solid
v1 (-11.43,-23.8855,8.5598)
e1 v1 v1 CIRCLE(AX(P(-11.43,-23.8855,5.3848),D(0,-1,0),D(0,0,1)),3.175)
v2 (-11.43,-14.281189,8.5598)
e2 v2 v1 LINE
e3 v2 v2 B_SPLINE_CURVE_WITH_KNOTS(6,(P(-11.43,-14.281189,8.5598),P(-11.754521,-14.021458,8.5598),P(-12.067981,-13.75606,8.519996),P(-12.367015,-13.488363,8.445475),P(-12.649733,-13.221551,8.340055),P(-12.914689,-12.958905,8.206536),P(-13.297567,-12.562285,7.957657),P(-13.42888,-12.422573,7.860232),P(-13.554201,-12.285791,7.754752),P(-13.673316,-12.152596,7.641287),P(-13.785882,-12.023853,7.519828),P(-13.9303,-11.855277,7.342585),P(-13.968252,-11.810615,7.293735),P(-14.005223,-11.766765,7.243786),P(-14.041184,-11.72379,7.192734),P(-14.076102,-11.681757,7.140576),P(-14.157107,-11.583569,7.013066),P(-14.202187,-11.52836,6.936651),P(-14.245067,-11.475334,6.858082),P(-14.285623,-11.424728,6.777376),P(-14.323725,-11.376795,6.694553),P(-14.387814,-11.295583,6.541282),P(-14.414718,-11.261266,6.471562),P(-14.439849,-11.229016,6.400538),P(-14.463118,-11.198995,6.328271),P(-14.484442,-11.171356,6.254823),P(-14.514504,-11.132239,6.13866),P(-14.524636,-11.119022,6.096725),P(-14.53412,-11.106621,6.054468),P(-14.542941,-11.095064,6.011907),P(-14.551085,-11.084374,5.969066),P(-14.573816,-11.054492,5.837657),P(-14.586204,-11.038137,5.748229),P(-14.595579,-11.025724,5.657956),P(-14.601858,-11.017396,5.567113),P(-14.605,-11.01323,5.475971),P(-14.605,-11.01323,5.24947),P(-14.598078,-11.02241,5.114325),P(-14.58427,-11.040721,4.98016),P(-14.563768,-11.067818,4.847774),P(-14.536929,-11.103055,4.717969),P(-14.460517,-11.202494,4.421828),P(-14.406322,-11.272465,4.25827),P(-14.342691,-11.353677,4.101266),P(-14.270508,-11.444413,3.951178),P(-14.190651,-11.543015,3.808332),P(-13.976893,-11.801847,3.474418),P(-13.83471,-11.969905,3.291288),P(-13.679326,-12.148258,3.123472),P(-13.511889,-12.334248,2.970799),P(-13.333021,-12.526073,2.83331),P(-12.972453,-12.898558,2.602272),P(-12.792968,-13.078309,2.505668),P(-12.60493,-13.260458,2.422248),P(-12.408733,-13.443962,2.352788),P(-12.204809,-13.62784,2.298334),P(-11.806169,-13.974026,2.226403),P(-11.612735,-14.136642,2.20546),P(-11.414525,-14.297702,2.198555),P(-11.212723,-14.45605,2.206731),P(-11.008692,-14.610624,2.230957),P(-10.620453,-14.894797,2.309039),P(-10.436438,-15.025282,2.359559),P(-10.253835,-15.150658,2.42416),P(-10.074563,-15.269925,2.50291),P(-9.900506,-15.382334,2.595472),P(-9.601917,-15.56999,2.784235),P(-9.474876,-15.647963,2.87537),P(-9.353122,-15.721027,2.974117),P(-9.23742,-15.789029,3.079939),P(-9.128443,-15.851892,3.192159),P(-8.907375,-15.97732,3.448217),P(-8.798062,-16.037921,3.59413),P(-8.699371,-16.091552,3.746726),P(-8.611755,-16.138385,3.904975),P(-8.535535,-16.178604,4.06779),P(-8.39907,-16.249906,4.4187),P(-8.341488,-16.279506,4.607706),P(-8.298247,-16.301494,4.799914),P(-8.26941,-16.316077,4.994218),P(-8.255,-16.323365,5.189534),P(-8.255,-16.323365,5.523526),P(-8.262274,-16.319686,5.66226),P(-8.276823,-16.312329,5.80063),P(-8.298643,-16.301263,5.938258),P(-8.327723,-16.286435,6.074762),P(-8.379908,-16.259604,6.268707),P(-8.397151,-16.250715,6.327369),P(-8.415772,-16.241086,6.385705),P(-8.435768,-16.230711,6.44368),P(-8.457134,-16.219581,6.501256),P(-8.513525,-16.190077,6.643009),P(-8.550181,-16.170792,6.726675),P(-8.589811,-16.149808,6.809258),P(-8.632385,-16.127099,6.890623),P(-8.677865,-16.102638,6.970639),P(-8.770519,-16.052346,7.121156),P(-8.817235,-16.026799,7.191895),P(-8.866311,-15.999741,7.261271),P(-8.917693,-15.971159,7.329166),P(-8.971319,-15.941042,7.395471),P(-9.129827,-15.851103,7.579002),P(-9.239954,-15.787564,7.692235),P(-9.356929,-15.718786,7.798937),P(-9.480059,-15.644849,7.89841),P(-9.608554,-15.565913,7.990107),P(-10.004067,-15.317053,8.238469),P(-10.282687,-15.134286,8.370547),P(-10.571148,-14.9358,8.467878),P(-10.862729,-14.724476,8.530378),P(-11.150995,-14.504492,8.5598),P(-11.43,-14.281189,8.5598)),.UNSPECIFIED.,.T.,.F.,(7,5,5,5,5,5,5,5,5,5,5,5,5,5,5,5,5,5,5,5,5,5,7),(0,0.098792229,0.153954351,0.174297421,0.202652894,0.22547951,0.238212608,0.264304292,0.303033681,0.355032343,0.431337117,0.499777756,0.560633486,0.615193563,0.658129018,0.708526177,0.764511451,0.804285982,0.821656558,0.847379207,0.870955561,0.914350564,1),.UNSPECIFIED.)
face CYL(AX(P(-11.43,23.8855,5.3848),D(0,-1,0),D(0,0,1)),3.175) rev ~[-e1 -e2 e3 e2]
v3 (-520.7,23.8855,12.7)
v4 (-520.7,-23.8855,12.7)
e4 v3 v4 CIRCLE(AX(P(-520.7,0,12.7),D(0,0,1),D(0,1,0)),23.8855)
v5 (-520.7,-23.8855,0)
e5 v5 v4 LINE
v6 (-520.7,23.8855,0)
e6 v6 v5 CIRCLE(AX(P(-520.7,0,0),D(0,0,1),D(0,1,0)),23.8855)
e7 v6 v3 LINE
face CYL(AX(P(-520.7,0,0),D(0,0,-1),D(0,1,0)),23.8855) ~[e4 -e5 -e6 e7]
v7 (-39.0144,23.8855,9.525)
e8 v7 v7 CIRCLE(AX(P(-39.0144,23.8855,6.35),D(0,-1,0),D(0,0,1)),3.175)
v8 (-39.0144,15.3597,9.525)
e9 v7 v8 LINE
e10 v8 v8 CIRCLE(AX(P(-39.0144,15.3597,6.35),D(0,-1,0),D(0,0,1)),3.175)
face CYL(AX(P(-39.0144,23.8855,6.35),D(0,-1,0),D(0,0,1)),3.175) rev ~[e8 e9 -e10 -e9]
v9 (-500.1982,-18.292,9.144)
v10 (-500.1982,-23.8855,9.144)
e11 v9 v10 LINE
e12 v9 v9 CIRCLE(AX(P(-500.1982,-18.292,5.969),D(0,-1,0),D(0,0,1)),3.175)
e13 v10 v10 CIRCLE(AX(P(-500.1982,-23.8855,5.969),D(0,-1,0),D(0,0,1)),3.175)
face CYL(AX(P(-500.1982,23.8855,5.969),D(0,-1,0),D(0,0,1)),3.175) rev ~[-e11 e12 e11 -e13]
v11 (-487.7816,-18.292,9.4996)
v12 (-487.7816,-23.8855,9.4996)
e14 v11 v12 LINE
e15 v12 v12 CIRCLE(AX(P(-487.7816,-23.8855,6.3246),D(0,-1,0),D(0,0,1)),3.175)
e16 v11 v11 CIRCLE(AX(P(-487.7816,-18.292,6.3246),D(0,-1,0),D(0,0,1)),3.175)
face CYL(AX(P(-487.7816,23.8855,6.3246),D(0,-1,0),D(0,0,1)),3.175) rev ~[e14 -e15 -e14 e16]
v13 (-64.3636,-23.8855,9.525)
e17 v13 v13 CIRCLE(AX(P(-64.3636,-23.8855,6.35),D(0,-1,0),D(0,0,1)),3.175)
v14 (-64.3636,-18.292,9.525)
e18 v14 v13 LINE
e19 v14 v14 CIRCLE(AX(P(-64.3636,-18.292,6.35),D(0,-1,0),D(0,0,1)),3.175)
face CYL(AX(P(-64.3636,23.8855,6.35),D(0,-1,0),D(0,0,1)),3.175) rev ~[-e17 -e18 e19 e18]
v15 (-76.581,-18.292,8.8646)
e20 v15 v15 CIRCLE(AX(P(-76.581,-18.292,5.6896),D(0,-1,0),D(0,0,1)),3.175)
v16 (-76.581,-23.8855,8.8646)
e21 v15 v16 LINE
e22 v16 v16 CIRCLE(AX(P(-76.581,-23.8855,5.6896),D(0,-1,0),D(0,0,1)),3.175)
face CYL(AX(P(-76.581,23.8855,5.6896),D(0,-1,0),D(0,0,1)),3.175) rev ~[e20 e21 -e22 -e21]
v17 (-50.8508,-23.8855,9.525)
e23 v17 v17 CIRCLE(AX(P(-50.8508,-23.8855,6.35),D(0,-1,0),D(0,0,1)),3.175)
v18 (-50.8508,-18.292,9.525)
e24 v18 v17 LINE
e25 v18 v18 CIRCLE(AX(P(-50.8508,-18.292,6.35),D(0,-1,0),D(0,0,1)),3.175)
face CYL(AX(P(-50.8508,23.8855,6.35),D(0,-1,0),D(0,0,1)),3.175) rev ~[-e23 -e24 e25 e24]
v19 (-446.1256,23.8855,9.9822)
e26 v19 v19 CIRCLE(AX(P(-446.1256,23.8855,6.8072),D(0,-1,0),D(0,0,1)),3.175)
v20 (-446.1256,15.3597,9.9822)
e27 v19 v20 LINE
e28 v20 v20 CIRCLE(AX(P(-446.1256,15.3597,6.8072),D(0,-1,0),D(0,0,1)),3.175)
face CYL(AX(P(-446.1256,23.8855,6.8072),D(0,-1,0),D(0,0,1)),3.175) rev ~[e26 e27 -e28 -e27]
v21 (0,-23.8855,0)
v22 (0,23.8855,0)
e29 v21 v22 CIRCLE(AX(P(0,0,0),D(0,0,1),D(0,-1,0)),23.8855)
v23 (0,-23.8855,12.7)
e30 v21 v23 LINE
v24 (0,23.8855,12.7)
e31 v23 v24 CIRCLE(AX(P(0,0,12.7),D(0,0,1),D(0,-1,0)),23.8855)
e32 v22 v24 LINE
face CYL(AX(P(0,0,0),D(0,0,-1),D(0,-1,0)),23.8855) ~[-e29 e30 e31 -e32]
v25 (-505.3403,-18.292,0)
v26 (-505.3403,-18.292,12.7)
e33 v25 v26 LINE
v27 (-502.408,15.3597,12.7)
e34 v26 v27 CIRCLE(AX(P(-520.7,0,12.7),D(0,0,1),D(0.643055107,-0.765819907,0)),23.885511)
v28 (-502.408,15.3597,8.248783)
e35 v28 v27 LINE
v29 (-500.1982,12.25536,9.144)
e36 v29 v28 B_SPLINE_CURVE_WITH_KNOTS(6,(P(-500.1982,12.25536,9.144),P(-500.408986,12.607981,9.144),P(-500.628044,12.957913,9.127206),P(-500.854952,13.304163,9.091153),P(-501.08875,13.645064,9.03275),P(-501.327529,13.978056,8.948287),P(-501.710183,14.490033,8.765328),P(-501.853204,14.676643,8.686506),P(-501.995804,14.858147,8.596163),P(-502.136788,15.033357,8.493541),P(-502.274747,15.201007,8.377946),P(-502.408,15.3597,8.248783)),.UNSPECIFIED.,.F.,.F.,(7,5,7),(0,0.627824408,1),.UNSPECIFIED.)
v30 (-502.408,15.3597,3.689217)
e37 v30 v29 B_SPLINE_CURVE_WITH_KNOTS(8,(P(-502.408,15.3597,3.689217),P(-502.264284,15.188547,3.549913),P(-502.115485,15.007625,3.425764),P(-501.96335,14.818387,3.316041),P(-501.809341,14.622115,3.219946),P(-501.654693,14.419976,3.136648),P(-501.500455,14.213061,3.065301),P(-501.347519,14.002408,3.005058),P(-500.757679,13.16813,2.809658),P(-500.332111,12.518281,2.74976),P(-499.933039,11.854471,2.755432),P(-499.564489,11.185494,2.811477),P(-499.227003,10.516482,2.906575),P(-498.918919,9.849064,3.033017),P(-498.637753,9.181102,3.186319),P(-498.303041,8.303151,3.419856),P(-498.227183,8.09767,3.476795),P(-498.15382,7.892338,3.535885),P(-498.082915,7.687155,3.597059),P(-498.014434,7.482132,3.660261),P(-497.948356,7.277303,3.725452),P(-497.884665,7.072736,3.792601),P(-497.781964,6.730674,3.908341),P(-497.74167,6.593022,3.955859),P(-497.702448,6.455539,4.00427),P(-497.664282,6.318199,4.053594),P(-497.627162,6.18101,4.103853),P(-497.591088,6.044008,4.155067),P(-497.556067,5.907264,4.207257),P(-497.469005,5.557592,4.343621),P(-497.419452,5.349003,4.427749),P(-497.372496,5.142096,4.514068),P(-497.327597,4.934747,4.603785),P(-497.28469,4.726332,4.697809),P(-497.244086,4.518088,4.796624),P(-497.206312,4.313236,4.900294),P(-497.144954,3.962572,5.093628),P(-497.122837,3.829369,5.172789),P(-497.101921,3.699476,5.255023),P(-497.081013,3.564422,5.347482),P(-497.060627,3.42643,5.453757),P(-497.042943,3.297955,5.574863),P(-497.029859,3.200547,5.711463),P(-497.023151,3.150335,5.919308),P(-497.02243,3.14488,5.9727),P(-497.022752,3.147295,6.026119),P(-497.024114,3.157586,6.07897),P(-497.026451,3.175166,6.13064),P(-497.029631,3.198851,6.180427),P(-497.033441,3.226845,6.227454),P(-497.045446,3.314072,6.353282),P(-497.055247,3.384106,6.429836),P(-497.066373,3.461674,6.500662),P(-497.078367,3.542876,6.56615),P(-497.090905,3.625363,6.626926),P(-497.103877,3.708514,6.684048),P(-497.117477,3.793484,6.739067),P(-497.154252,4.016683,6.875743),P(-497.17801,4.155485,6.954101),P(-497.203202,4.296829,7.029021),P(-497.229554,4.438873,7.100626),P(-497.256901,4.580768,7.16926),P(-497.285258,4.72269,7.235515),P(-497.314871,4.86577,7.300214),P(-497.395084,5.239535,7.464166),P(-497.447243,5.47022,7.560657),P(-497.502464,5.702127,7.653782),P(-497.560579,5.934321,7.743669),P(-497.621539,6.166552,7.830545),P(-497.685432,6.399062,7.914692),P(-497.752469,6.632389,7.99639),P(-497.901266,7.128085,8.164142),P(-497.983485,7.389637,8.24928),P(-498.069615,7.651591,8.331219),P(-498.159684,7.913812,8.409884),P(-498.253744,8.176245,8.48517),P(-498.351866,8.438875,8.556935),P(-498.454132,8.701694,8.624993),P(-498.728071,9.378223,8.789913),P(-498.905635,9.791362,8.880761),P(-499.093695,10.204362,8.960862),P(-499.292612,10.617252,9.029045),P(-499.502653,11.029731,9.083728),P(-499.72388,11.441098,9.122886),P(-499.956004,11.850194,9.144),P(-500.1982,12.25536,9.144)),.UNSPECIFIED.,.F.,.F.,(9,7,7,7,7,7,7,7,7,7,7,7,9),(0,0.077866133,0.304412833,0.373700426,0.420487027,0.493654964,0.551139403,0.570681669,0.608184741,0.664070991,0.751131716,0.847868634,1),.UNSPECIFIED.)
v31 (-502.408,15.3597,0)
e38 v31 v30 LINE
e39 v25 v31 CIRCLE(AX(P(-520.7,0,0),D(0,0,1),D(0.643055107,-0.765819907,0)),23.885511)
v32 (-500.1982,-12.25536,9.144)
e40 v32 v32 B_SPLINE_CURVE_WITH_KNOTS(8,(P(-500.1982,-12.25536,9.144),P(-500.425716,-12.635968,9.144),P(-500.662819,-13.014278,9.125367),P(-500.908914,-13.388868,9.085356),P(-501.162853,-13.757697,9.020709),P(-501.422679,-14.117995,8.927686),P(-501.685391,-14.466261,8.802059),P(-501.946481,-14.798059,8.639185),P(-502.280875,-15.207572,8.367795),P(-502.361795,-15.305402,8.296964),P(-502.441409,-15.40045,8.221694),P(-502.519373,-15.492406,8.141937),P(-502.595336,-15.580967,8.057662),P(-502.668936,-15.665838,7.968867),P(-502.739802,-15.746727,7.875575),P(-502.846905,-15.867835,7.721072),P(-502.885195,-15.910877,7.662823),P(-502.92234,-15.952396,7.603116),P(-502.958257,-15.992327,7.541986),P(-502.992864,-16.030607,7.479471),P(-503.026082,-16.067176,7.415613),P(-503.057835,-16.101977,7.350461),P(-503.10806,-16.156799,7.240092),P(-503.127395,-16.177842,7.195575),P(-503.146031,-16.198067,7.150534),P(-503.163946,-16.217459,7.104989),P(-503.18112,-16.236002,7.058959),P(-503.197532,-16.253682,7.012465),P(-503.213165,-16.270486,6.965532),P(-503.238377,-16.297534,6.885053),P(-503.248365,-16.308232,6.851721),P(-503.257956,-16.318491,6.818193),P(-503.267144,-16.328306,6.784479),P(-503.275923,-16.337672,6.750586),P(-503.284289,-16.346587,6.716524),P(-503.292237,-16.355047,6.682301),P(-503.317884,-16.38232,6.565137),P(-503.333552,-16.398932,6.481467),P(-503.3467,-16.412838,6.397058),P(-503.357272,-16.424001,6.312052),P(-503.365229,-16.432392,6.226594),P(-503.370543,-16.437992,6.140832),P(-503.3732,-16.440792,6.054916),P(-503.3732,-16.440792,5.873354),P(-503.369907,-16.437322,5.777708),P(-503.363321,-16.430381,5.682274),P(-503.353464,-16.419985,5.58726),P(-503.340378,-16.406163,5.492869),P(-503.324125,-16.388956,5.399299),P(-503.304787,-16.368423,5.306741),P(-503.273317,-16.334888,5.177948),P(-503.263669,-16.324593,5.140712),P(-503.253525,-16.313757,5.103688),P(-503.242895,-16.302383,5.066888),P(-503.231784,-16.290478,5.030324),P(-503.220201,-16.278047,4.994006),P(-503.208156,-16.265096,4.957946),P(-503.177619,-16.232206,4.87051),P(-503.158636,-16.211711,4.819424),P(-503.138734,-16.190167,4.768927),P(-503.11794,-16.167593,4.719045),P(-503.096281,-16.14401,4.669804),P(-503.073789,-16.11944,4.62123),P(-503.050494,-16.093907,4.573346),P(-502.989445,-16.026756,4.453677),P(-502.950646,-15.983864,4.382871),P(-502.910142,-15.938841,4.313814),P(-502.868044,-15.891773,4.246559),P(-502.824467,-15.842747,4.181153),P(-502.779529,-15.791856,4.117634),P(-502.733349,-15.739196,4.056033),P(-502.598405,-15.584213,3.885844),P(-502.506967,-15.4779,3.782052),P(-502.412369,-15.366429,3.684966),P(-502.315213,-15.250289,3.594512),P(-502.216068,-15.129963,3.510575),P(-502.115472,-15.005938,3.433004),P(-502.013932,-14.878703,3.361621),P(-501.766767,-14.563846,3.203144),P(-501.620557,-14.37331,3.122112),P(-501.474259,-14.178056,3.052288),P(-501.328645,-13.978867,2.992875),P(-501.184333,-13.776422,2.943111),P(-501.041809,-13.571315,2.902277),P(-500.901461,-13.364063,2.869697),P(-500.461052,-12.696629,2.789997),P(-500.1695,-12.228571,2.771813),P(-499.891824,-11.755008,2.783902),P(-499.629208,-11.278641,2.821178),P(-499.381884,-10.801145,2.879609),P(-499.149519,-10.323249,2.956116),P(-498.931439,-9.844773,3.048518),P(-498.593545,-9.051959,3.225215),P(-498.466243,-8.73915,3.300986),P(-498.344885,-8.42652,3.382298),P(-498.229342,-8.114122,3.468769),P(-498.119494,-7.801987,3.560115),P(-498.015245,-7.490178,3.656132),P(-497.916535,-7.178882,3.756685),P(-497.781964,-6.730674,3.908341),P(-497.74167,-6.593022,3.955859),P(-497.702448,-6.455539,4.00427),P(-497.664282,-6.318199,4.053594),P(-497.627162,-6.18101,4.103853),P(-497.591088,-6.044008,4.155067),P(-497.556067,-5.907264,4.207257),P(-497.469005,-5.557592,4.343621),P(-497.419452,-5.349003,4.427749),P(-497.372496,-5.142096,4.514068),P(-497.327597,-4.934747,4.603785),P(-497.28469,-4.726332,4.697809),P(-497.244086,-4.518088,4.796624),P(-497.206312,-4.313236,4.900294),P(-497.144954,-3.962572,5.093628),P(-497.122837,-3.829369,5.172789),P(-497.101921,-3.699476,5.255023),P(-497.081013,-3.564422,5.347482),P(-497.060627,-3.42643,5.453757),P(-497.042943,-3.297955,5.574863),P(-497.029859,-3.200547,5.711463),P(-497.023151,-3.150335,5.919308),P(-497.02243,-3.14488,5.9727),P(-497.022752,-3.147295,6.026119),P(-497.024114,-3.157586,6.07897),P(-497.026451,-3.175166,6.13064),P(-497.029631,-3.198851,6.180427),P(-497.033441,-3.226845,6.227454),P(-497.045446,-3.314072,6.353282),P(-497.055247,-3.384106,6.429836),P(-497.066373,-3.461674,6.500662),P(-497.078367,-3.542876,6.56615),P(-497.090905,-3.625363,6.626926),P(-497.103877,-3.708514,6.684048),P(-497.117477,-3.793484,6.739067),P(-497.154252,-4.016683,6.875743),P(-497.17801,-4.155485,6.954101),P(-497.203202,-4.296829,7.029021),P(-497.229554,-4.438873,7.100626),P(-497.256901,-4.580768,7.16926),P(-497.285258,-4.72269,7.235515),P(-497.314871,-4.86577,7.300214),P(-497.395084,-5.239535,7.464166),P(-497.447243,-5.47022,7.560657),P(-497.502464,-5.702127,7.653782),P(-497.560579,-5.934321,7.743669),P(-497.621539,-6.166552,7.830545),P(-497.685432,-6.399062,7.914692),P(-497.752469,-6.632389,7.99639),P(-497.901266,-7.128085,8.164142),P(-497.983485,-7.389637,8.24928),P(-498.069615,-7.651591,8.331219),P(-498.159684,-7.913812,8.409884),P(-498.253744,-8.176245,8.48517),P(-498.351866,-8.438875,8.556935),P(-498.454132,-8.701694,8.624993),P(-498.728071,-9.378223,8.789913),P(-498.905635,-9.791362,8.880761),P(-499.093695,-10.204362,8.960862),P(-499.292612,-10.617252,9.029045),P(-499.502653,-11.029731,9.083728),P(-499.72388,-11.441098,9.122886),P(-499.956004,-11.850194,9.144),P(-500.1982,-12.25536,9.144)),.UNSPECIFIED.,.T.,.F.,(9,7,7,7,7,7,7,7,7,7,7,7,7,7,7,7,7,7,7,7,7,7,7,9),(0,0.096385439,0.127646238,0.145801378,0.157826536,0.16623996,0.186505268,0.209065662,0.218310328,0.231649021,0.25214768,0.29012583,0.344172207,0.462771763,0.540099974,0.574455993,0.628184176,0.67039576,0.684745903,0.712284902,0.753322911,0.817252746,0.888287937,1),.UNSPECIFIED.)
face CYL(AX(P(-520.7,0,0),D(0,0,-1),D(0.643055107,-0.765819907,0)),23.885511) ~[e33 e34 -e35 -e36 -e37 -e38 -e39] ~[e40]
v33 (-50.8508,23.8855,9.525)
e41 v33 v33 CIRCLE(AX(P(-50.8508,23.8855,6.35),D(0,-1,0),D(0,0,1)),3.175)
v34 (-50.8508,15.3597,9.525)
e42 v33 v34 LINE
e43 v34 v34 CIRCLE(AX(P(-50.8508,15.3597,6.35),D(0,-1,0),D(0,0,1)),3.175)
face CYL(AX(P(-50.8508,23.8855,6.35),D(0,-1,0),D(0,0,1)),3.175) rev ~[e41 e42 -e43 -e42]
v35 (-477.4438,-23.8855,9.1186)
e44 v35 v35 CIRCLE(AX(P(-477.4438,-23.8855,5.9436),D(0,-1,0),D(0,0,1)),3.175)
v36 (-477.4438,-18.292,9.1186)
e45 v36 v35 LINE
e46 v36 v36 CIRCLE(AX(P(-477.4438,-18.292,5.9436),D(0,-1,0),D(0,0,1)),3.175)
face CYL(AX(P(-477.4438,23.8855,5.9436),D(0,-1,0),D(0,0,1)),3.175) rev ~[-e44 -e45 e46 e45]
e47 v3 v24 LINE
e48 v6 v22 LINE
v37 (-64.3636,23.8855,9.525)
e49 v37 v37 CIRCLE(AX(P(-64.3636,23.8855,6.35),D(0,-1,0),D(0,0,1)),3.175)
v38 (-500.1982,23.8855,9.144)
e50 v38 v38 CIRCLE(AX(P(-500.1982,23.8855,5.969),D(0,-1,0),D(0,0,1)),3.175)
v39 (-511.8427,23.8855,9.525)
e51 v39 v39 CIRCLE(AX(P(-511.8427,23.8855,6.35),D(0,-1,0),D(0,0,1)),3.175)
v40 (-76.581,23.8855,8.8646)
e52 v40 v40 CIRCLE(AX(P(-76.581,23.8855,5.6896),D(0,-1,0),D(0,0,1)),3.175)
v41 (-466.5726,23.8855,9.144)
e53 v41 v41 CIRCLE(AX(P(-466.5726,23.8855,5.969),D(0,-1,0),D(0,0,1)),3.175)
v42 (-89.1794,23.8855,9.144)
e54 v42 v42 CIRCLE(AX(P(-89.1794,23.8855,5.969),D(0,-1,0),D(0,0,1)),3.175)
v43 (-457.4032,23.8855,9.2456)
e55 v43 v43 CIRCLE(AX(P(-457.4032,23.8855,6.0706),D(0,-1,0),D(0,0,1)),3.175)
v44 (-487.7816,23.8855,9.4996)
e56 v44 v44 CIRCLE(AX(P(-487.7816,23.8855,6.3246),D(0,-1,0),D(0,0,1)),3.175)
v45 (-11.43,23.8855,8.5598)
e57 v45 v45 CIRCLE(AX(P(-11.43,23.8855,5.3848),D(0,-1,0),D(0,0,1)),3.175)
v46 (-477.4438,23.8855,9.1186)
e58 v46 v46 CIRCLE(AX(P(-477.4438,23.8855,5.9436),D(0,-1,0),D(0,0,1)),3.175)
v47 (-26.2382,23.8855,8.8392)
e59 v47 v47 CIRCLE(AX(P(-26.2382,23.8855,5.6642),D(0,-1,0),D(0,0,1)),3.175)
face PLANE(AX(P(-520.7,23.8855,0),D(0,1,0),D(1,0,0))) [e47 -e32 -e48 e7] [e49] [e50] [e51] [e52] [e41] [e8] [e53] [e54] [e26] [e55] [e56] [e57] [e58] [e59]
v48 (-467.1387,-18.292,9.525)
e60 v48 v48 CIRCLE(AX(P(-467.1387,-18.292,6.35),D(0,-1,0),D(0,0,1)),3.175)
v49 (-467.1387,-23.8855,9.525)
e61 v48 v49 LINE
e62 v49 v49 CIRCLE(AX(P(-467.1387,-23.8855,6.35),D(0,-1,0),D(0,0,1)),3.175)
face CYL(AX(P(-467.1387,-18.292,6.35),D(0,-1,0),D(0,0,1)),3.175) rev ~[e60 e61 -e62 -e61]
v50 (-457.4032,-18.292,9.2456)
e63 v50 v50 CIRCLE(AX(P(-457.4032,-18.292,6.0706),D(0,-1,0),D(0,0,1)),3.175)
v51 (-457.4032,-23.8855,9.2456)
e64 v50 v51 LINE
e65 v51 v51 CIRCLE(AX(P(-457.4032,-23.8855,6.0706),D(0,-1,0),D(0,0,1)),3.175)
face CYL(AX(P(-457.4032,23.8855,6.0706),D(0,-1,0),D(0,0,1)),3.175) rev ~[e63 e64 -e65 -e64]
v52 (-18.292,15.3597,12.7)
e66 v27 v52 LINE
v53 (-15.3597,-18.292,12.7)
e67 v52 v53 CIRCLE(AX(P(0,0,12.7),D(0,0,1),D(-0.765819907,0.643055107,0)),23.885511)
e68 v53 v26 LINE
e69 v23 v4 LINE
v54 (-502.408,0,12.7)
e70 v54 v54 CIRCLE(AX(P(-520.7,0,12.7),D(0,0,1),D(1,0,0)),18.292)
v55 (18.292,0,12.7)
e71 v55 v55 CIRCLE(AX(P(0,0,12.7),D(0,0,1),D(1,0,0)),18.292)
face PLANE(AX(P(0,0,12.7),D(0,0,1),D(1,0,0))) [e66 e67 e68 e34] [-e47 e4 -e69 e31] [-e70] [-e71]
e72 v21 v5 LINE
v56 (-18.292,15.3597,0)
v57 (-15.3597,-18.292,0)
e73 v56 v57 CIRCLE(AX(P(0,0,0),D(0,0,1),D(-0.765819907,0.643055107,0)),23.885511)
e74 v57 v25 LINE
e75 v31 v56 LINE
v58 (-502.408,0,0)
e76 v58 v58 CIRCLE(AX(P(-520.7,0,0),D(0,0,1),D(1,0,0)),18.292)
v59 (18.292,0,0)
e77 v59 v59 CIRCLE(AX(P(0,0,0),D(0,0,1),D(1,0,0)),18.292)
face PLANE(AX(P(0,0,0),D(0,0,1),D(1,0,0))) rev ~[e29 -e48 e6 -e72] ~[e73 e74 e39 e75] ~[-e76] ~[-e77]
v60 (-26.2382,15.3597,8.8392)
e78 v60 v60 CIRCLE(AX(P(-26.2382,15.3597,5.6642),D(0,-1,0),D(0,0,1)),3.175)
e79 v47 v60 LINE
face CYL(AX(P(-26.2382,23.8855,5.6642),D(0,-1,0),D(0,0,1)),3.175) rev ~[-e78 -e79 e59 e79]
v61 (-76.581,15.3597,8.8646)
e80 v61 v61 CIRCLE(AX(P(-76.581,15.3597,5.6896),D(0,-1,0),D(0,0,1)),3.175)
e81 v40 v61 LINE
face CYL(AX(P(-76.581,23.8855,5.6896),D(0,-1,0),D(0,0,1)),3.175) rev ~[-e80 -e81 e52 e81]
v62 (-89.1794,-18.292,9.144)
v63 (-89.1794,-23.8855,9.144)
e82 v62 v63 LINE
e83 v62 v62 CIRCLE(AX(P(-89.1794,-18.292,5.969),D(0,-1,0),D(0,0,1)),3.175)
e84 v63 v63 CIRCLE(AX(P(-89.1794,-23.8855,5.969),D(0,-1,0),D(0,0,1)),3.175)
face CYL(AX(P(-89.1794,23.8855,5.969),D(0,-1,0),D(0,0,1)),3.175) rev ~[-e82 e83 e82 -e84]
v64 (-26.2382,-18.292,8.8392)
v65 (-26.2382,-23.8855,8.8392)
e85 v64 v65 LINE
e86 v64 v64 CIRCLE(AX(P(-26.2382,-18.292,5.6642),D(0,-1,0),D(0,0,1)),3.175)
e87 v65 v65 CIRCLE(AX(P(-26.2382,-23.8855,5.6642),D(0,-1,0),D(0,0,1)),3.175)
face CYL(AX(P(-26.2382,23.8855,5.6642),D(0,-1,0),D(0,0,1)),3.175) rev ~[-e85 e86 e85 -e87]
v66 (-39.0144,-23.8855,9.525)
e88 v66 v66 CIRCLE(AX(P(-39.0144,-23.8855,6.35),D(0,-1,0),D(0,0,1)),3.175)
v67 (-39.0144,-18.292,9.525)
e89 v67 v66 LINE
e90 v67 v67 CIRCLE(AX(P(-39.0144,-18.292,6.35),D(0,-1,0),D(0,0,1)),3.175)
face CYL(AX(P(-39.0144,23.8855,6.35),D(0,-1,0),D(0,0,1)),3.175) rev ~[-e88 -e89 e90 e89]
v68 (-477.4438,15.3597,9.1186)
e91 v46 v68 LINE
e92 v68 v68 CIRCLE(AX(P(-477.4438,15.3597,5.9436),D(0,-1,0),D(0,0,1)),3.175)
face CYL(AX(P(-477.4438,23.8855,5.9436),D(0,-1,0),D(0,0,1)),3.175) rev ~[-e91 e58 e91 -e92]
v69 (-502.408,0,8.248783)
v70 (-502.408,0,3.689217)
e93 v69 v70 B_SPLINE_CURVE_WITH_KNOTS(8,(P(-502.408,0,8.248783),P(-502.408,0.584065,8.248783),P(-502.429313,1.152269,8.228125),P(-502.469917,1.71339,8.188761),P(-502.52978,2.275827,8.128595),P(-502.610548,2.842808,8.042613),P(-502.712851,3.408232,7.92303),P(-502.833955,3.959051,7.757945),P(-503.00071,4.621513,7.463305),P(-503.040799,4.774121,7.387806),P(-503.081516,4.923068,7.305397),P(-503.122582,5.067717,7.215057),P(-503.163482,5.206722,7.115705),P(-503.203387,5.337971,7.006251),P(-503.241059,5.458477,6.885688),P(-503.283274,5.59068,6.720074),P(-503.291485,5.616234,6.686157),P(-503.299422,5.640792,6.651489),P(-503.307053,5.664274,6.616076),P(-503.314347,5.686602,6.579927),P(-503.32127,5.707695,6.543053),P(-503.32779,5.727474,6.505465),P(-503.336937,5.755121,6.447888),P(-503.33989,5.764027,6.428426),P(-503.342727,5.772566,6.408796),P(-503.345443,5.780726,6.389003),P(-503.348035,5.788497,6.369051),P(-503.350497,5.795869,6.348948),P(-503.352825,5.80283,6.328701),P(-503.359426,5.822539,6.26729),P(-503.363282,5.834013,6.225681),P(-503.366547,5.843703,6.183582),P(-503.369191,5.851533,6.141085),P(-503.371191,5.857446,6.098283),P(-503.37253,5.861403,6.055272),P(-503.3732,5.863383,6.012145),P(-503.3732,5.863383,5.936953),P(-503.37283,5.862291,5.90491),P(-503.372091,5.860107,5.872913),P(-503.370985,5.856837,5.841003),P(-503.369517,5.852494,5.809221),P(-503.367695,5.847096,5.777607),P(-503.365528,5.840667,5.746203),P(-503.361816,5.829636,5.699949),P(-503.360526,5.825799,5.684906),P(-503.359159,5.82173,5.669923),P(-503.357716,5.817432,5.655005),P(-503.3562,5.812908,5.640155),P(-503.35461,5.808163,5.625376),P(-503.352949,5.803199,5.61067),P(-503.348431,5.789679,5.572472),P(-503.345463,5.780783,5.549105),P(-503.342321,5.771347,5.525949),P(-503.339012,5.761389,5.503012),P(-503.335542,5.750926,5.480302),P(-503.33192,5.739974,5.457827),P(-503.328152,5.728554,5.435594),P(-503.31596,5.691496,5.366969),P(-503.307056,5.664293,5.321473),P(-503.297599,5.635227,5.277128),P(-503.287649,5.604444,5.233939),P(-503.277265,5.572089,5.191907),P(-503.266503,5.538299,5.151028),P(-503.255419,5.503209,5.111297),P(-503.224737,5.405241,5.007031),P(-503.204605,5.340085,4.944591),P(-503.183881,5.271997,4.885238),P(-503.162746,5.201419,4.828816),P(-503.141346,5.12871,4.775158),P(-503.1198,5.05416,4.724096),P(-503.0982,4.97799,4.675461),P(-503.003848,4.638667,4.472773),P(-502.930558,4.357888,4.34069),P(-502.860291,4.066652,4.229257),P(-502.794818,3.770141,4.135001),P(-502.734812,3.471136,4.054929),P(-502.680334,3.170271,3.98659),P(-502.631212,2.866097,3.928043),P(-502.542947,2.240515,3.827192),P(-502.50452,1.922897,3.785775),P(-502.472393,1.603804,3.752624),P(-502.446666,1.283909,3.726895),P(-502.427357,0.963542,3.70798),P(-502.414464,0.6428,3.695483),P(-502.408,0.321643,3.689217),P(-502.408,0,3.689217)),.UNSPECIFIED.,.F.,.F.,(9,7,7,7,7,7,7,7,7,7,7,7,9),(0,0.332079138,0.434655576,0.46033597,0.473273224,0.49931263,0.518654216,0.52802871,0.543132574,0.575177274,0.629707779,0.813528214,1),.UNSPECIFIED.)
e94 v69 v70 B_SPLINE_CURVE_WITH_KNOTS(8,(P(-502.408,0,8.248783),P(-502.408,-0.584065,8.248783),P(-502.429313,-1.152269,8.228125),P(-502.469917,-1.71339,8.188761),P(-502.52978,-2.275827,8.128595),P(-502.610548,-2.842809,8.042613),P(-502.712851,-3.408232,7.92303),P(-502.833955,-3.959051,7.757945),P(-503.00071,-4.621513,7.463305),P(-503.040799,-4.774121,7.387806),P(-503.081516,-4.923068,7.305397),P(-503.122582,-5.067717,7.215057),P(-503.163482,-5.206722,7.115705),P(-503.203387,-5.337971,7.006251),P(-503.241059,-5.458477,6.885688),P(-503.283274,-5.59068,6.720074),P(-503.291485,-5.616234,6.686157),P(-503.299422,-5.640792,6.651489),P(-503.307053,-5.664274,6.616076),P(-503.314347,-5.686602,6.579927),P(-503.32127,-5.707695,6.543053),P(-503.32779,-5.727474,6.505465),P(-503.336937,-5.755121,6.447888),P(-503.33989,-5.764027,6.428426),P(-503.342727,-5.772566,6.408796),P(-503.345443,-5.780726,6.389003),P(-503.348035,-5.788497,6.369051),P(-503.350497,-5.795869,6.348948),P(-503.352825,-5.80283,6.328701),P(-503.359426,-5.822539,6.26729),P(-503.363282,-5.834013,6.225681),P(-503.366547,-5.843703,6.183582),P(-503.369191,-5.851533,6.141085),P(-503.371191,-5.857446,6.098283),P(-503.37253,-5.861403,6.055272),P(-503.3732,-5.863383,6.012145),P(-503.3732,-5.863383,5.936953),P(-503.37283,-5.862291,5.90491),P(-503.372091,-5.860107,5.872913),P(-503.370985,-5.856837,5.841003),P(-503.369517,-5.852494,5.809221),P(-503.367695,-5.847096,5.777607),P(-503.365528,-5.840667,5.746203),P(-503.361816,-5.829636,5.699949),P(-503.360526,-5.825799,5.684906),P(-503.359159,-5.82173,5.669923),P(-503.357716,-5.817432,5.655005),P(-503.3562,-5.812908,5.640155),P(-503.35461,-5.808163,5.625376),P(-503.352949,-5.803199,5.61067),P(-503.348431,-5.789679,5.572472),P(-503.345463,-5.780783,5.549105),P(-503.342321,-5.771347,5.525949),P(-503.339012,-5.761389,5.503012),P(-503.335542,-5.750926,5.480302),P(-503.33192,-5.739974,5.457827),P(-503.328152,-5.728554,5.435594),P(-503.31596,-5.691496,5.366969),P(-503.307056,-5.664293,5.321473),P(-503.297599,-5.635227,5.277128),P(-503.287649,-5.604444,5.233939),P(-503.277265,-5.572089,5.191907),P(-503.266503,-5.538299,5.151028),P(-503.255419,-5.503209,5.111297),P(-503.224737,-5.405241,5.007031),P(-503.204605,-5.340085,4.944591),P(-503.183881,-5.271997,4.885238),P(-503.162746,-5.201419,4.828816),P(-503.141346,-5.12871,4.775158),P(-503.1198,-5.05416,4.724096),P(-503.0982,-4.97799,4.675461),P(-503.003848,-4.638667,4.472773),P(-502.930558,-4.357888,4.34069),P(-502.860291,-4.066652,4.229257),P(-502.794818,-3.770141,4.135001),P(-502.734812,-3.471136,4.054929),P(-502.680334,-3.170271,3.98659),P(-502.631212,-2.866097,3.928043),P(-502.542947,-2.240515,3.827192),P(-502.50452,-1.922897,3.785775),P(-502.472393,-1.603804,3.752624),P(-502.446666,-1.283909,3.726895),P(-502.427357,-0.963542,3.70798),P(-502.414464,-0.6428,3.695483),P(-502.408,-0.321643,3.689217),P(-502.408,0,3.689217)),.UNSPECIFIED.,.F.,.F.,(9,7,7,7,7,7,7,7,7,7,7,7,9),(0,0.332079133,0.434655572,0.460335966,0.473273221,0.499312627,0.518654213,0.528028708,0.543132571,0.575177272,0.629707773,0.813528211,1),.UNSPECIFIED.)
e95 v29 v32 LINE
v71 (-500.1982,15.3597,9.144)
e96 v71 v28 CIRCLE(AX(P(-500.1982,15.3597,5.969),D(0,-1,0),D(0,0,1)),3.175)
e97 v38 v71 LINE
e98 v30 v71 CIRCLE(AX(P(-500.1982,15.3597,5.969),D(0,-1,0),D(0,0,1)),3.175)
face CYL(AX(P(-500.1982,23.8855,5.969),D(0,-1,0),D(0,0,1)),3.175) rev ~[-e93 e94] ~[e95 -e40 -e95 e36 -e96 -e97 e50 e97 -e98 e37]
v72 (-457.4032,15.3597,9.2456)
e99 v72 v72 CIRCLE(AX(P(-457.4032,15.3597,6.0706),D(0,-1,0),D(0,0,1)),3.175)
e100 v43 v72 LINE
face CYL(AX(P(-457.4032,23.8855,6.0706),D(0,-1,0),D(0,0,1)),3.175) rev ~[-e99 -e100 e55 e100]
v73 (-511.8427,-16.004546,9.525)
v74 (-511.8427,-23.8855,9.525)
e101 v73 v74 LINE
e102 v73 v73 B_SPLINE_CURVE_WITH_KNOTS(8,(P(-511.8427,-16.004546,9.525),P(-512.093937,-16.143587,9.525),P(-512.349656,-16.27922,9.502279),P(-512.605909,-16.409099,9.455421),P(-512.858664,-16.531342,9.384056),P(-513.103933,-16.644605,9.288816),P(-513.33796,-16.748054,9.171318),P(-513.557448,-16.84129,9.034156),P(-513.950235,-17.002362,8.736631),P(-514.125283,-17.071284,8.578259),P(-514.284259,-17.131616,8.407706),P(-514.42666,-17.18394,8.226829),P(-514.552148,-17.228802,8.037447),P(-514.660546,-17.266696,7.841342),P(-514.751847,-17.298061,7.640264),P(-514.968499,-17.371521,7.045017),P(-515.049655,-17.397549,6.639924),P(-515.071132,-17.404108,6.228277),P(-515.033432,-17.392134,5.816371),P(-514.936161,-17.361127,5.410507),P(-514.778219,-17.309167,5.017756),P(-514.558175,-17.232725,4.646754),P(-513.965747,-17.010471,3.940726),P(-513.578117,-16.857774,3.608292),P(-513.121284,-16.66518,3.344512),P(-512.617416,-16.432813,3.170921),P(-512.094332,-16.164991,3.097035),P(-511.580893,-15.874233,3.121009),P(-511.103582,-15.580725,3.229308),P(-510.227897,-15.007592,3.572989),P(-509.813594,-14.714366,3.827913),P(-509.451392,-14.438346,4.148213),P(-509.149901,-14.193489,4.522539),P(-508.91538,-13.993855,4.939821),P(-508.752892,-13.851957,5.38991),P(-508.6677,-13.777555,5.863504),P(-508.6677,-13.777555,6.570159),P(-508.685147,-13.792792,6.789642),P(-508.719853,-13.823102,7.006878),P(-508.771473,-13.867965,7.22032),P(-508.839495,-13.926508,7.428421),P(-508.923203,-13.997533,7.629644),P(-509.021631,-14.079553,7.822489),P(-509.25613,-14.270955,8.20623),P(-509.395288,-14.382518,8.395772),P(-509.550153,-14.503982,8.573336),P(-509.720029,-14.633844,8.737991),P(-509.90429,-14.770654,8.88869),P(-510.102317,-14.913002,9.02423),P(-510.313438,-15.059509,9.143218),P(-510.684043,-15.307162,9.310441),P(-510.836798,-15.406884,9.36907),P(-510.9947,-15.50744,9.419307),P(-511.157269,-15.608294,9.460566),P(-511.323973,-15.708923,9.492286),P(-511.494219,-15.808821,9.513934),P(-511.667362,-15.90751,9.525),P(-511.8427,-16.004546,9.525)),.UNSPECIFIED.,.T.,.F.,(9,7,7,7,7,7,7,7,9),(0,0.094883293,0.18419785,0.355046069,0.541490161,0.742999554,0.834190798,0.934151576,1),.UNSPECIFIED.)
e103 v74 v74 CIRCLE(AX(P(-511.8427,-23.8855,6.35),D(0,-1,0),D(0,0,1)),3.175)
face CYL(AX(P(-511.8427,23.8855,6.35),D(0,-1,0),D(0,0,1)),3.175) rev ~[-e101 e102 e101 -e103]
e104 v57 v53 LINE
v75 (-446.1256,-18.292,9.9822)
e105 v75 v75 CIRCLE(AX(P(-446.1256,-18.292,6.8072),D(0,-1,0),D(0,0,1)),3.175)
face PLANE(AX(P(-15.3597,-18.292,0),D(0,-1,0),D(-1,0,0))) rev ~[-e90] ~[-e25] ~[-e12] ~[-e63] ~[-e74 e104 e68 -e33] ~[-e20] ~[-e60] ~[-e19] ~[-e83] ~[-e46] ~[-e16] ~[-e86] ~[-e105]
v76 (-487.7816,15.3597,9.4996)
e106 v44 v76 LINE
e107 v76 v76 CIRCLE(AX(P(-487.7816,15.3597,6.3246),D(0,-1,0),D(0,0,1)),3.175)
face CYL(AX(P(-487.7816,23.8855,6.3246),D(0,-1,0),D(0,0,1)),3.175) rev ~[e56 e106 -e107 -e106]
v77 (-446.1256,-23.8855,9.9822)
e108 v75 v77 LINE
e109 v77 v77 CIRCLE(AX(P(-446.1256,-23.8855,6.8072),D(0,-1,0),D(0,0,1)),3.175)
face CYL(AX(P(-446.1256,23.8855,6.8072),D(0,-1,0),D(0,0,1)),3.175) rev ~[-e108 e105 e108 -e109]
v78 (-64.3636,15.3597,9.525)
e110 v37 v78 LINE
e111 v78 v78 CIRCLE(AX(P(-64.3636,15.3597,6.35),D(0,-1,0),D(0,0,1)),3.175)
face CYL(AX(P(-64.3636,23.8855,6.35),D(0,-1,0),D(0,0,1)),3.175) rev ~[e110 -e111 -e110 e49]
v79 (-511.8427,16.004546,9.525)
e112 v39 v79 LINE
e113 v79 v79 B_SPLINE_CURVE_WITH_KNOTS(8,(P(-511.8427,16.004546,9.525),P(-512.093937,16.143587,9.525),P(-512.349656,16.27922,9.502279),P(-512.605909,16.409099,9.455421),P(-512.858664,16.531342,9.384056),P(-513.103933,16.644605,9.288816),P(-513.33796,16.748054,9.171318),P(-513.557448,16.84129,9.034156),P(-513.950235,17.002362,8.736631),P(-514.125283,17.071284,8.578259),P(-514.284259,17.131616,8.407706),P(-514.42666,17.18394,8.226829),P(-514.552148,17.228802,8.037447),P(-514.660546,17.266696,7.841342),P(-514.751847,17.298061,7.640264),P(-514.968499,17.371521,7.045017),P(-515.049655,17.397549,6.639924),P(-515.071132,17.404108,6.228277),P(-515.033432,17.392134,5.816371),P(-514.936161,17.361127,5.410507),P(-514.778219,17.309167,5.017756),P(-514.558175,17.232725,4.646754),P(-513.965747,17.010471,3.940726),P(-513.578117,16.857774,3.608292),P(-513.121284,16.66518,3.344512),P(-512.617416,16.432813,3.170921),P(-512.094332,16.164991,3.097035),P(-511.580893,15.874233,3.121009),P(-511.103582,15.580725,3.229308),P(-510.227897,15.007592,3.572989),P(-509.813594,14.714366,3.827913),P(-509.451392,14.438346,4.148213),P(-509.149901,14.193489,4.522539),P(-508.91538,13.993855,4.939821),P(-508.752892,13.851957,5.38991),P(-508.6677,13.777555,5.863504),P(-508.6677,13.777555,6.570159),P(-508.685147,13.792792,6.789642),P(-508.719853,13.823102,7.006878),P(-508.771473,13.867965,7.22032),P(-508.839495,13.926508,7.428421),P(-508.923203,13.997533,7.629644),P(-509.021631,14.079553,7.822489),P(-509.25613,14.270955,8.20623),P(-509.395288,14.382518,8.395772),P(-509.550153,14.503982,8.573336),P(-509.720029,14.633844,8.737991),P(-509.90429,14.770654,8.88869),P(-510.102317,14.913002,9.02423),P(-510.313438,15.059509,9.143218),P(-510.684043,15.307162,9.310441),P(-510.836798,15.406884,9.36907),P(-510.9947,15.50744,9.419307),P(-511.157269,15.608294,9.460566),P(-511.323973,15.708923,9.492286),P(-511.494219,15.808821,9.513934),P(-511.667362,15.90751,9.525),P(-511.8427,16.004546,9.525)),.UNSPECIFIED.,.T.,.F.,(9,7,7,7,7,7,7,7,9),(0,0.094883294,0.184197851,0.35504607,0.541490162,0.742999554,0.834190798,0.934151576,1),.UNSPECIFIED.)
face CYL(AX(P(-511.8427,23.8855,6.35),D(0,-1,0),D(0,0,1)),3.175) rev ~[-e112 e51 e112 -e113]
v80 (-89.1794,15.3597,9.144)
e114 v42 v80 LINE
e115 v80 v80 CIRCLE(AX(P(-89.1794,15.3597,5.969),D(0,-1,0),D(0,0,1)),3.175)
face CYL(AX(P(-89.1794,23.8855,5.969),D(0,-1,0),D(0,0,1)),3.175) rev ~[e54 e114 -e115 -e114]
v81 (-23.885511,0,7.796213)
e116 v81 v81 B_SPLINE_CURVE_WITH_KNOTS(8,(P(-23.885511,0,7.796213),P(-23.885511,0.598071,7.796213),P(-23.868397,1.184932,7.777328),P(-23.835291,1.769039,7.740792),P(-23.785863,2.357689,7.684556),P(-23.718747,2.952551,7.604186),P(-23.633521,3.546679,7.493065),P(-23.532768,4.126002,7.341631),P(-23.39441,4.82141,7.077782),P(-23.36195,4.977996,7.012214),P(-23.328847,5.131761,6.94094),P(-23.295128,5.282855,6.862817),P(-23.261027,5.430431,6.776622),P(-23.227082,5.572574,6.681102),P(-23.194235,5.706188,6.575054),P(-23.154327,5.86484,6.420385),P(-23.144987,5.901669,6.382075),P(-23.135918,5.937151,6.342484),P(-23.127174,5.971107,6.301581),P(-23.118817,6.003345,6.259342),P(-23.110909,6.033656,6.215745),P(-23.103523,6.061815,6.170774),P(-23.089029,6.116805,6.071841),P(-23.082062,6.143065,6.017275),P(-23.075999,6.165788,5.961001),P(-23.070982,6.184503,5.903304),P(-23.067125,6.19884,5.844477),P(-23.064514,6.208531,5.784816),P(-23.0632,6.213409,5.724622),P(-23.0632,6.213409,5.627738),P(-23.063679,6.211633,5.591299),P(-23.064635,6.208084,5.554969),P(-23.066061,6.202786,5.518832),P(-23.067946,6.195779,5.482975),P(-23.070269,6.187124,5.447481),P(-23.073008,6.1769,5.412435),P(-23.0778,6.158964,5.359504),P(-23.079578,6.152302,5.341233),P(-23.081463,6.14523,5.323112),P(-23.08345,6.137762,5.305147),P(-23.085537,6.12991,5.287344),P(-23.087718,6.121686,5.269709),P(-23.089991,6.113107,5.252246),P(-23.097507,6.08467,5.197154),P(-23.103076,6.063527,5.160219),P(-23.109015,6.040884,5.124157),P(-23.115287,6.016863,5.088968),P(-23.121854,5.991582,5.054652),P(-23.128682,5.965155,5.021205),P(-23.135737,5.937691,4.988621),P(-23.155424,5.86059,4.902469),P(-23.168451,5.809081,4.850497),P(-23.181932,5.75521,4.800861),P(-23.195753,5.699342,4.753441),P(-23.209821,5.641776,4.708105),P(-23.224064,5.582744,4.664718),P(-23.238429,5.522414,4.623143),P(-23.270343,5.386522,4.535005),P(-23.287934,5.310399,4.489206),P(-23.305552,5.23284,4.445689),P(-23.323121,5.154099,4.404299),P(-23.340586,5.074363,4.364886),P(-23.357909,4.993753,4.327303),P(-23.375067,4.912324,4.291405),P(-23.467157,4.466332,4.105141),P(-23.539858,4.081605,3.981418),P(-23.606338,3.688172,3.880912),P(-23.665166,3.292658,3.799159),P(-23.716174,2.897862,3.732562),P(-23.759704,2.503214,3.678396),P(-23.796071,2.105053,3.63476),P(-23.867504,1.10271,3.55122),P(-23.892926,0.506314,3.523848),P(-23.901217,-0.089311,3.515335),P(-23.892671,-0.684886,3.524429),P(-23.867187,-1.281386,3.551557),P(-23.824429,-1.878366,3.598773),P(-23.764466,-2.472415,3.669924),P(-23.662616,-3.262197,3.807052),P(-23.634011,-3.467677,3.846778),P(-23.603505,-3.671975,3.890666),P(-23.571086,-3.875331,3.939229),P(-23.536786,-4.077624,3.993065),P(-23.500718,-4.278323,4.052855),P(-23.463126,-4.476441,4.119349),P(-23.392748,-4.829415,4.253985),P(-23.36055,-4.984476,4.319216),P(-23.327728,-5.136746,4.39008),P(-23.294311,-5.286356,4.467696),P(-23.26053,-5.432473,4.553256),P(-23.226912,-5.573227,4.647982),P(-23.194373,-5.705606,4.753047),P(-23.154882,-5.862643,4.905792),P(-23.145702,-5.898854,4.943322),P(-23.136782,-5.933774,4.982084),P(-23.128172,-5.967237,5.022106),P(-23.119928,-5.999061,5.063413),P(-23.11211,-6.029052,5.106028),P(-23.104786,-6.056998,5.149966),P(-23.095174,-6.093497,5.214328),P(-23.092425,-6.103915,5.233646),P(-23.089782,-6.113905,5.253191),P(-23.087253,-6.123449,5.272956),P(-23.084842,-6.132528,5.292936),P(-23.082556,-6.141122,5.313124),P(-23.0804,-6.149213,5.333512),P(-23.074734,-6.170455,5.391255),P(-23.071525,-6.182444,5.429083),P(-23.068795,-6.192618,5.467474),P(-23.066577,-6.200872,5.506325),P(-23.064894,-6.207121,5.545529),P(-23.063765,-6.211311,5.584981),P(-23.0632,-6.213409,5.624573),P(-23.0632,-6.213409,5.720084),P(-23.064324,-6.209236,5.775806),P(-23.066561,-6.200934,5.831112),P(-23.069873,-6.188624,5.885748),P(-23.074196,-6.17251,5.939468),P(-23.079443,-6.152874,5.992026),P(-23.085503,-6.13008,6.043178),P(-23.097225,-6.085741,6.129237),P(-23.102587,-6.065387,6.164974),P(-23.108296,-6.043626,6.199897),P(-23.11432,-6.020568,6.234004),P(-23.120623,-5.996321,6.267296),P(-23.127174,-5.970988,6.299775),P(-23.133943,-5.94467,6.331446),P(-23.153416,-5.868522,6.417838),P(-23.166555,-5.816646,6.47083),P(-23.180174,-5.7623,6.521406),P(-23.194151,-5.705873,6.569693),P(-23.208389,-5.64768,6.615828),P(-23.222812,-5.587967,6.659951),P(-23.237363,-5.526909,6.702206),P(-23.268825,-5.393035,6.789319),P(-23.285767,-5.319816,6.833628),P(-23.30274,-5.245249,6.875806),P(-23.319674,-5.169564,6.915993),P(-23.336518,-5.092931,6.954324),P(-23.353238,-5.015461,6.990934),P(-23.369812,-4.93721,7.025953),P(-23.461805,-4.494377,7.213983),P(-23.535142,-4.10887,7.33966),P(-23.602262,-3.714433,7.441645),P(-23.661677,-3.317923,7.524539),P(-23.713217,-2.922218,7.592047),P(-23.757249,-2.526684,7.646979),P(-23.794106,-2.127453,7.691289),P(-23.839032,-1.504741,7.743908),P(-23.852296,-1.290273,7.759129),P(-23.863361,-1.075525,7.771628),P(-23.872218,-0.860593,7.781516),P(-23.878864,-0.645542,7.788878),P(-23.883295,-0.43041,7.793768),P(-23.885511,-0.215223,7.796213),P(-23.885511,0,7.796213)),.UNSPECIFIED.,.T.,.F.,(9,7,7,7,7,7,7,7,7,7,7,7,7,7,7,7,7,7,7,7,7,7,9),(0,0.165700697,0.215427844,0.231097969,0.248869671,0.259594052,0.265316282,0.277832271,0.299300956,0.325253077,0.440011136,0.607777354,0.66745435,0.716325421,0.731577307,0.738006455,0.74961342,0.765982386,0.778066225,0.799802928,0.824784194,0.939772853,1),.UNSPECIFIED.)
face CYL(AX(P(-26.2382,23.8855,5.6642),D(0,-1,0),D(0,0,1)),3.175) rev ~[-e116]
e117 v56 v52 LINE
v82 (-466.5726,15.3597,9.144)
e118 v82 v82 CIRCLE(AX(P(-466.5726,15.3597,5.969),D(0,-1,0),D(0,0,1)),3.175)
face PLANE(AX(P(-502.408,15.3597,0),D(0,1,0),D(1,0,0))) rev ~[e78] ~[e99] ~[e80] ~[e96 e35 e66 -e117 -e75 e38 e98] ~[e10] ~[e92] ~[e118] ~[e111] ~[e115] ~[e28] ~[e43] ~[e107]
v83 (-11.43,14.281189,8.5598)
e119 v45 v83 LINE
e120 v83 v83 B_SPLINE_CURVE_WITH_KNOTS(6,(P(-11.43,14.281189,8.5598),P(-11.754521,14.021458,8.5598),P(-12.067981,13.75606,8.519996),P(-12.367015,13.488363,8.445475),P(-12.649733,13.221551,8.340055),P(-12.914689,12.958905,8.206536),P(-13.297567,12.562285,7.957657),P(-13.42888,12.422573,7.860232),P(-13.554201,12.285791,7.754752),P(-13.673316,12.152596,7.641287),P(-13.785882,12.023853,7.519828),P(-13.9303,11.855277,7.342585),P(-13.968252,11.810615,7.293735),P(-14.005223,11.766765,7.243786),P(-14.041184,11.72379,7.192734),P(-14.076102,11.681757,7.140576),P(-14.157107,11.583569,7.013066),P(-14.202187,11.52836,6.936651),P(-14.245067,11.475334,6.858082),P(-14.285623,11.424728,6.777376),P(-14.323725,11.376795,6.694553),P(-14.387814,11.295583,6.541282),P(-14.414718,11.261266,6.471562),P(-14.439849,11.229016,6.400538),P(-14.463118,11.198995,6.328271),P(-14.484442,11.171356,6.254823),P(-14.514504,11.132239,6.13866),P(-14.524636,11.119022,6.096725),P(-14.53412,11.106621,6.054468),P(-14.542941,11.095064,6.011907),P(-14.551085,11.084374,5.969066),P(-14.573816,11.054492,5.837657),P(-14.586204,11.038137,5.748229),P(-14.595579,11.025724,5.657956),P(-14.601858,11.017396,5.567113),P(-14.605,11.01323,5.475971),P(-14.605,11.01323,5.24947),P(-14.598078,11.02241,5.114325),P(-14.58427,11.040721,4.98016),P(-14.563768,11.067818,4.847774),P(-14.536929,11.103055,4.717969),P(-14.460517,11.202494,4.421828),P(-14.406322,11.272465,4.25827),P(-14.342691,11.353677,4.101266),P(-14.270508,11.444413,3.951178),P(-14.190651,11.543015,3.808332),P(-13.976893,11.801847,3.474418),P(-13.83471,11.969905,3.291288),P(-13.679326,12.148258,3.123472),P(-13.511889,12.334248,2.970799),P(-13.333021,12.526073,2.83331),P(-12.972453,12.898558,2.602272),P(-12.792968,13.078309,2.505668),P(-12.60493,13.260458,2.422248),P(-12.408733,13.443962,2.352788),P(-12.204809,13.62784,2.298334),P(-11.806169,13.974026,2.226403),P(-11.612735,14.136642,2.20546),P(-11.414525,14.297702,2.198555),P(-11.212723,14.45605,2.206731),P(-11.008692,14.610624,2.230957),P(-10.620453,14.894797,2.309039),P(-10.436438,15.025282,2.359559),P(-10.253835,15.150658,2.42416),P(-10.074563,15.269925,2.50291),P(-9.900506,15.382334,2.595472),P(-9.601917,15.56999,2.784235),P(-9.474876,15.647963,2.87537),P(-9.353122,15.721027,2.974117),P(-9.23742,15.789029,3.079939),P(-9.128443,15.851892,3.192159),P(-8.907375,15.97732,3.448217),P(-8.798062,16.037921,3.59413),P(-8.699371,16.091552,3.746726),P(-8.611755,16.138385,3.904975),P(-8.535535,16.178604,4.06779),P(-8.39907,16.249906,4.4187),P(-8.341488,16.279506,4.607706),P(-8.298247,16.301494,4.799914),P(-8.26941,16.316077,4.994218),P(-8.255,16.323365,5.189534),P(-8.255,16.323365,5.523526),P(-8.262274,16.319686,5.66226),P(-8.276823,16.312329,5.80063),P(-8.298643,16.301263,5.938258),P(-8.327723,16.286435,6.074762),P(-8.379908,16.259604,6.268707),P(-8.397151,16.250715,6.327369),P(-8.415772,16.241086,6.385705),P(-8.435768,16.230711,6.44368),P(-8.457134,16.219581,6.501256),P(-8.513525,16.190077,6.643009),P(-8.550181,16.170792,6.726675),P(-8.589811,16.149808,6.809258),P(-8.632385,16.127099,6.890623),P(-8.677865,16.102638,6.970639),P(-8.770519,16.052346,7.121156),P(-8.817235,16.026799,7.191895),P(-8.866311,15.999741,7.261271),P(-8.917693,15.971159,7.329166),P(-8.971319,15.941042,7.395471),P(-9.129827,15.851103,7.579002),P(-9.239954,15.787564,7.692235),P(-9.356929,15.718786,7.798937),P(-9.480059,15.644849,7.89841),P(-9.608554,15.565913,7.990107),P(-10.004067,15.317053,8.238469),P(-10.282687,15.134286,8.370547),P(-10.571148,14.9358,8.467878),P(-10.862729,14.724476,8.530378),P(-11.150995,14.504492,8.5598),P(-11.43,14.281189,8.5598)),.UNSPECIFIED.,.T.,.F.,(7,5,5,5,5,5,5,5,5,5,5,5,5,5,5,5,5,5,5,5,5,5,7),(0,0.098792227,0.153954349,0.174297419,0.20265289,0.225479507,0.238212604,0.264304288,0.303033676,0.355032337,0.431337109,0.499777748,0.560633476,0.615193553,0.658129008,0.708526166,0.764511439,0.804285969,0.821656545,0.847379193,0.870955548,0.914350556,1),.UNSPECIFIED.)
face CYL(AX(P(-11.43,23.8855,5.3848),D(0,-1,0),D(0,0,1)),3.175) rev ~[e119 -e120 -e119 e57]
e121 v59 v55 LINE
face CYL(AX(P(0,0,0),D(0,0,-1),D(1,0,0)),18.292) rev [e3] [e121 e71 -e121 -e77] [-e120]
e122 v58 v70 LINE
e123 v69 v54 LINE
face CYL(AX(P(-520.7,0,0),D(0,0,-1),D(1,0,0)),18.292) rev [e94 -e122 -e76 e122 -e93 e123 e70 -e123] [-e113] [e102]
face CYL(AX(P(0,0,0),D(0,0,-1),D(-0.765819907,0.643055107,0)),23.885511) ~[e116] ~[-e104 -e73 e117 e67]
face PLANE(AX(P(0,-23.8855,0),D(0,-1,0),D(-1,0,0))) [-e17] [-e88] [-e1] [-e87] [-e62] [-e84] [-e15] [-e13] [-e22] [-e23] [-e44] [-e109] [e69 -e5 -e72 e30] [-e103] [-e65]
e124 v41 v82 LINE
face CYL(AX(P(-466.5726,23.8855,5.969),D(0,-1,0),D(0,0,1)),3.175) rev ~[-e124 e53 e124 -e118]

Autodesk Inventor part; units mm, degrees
ref_plane "YZ Plane" through (0, 0, 0) normal (1, 0, 0) x (0, 1, 0)
ref_plane "XZ Plane" through (0, 0, 0) normal (0, 1, 0) x (-1, 0, 0)
ref_plane "XY Plane" through (0, 0, 0) normal (0, 0, 1) x (1, 0, 0)
sketch "Sketch1" plane through (0, 0, 0) normal (0, 0, 1) x (1, 0, 0)
  circle A0 centre (-520.7, 0) radius 18.292
  arc A1 (-520.7, 23.8855) -> (-520.7, -23.8855) centre (-520.7, 0) ccw
  circle A2 centre (0, 0) radius 18.292
  arc A3 (-18.292, 15.3597) -> (-15.3597, -18.292) centre (0, 0) ccw
  line L0 (-520.7, 23.8855) -> (0, 23.8855)
  line L1 (0, -23.8855) -> (-520.7, -23.8855)
  line L2 (-502.408, 15.3597) -> (-18.292, 15.3597)
  line L3 (-15.3597, -18.292) -> (-505.3403, -18.292)
  arc A4 (-505.3403, -18.292) -> (-502.408, 15.3597) centre (-520.7, 0) ccw
  arc A5 (0, -23.8855) -> (0, 23.8855) centre (0, 0) ccw
extrude "Extrusion1" add sketch "Sketch1" along normal blind 12.7
hole "Hole1" at (-511.8427, 23.8855, 6.35) direction (0, -1, 0) diameter 6.35 end through all
hole "Hole2" at (-500.1982, 23.8855, 5.969) direction (0, -1, 0) diameter 6.35 end through all
hole "Hole3" at (-487.7816, 23.8855, 6.3246) direction (0, -1, 0) diameter 6.35 end through all
hole "Hole4" at (-477.4438, 23.8855, 5.9436) direction (0, -1, 0) diameter 6.35 end through all
hole "Hole5" at (-466.5726, 23.8855, 5.969) direction (0, -1, 0) diameter 6.35 depth 25.4 tip angle 118
hole "Hole6" at (-457.4032, 23.8855, 6.0706) direction (0, -1, 0) diameter 6.35 end through all
hole "Hole7" at (-467.1387, -18.292, 6.35) direction (0, -1, 0) diameter 6.35 depth 25.4 tip angle 118
hole "Hole8" at (-446.1256, 23.8855, 6.8072) direction (0, -1, 0) diameter 6.35 end through all
hole "Hole9" at (-26.2382, 23.8855, 5.6642) direction (0, -1, 0) diameter 6.35 end through all
hole "Hole10" at (-39.0144, 23.8855, 6.35) direction (0, -1, 0) diameter 6.35 end through all
hole "Hole11" at (-50.8508, 23.8855, 6.35) direction (0, -1, 0) diameter 6.35 end through all
hole "Hole12" at (-64.3636, 23.8855, 6.35) direction (0, -1, 0) diameter 6.35 end through all
hole "Hole13" at (-76.581, 23.8855, 5.6896) direction (0, -1, 0) diameter 6.35 end through all
hole "Hole14" at (-89.1794, 23.8855, 5.969) direction (0, -1, 0) diameter 6.35 end through all
hole "Hole15" at (-11.43, 23.8855, 5.3848) direction (0, -1, 0) diameter 6.35 end through all
properties part number "chainparts"
